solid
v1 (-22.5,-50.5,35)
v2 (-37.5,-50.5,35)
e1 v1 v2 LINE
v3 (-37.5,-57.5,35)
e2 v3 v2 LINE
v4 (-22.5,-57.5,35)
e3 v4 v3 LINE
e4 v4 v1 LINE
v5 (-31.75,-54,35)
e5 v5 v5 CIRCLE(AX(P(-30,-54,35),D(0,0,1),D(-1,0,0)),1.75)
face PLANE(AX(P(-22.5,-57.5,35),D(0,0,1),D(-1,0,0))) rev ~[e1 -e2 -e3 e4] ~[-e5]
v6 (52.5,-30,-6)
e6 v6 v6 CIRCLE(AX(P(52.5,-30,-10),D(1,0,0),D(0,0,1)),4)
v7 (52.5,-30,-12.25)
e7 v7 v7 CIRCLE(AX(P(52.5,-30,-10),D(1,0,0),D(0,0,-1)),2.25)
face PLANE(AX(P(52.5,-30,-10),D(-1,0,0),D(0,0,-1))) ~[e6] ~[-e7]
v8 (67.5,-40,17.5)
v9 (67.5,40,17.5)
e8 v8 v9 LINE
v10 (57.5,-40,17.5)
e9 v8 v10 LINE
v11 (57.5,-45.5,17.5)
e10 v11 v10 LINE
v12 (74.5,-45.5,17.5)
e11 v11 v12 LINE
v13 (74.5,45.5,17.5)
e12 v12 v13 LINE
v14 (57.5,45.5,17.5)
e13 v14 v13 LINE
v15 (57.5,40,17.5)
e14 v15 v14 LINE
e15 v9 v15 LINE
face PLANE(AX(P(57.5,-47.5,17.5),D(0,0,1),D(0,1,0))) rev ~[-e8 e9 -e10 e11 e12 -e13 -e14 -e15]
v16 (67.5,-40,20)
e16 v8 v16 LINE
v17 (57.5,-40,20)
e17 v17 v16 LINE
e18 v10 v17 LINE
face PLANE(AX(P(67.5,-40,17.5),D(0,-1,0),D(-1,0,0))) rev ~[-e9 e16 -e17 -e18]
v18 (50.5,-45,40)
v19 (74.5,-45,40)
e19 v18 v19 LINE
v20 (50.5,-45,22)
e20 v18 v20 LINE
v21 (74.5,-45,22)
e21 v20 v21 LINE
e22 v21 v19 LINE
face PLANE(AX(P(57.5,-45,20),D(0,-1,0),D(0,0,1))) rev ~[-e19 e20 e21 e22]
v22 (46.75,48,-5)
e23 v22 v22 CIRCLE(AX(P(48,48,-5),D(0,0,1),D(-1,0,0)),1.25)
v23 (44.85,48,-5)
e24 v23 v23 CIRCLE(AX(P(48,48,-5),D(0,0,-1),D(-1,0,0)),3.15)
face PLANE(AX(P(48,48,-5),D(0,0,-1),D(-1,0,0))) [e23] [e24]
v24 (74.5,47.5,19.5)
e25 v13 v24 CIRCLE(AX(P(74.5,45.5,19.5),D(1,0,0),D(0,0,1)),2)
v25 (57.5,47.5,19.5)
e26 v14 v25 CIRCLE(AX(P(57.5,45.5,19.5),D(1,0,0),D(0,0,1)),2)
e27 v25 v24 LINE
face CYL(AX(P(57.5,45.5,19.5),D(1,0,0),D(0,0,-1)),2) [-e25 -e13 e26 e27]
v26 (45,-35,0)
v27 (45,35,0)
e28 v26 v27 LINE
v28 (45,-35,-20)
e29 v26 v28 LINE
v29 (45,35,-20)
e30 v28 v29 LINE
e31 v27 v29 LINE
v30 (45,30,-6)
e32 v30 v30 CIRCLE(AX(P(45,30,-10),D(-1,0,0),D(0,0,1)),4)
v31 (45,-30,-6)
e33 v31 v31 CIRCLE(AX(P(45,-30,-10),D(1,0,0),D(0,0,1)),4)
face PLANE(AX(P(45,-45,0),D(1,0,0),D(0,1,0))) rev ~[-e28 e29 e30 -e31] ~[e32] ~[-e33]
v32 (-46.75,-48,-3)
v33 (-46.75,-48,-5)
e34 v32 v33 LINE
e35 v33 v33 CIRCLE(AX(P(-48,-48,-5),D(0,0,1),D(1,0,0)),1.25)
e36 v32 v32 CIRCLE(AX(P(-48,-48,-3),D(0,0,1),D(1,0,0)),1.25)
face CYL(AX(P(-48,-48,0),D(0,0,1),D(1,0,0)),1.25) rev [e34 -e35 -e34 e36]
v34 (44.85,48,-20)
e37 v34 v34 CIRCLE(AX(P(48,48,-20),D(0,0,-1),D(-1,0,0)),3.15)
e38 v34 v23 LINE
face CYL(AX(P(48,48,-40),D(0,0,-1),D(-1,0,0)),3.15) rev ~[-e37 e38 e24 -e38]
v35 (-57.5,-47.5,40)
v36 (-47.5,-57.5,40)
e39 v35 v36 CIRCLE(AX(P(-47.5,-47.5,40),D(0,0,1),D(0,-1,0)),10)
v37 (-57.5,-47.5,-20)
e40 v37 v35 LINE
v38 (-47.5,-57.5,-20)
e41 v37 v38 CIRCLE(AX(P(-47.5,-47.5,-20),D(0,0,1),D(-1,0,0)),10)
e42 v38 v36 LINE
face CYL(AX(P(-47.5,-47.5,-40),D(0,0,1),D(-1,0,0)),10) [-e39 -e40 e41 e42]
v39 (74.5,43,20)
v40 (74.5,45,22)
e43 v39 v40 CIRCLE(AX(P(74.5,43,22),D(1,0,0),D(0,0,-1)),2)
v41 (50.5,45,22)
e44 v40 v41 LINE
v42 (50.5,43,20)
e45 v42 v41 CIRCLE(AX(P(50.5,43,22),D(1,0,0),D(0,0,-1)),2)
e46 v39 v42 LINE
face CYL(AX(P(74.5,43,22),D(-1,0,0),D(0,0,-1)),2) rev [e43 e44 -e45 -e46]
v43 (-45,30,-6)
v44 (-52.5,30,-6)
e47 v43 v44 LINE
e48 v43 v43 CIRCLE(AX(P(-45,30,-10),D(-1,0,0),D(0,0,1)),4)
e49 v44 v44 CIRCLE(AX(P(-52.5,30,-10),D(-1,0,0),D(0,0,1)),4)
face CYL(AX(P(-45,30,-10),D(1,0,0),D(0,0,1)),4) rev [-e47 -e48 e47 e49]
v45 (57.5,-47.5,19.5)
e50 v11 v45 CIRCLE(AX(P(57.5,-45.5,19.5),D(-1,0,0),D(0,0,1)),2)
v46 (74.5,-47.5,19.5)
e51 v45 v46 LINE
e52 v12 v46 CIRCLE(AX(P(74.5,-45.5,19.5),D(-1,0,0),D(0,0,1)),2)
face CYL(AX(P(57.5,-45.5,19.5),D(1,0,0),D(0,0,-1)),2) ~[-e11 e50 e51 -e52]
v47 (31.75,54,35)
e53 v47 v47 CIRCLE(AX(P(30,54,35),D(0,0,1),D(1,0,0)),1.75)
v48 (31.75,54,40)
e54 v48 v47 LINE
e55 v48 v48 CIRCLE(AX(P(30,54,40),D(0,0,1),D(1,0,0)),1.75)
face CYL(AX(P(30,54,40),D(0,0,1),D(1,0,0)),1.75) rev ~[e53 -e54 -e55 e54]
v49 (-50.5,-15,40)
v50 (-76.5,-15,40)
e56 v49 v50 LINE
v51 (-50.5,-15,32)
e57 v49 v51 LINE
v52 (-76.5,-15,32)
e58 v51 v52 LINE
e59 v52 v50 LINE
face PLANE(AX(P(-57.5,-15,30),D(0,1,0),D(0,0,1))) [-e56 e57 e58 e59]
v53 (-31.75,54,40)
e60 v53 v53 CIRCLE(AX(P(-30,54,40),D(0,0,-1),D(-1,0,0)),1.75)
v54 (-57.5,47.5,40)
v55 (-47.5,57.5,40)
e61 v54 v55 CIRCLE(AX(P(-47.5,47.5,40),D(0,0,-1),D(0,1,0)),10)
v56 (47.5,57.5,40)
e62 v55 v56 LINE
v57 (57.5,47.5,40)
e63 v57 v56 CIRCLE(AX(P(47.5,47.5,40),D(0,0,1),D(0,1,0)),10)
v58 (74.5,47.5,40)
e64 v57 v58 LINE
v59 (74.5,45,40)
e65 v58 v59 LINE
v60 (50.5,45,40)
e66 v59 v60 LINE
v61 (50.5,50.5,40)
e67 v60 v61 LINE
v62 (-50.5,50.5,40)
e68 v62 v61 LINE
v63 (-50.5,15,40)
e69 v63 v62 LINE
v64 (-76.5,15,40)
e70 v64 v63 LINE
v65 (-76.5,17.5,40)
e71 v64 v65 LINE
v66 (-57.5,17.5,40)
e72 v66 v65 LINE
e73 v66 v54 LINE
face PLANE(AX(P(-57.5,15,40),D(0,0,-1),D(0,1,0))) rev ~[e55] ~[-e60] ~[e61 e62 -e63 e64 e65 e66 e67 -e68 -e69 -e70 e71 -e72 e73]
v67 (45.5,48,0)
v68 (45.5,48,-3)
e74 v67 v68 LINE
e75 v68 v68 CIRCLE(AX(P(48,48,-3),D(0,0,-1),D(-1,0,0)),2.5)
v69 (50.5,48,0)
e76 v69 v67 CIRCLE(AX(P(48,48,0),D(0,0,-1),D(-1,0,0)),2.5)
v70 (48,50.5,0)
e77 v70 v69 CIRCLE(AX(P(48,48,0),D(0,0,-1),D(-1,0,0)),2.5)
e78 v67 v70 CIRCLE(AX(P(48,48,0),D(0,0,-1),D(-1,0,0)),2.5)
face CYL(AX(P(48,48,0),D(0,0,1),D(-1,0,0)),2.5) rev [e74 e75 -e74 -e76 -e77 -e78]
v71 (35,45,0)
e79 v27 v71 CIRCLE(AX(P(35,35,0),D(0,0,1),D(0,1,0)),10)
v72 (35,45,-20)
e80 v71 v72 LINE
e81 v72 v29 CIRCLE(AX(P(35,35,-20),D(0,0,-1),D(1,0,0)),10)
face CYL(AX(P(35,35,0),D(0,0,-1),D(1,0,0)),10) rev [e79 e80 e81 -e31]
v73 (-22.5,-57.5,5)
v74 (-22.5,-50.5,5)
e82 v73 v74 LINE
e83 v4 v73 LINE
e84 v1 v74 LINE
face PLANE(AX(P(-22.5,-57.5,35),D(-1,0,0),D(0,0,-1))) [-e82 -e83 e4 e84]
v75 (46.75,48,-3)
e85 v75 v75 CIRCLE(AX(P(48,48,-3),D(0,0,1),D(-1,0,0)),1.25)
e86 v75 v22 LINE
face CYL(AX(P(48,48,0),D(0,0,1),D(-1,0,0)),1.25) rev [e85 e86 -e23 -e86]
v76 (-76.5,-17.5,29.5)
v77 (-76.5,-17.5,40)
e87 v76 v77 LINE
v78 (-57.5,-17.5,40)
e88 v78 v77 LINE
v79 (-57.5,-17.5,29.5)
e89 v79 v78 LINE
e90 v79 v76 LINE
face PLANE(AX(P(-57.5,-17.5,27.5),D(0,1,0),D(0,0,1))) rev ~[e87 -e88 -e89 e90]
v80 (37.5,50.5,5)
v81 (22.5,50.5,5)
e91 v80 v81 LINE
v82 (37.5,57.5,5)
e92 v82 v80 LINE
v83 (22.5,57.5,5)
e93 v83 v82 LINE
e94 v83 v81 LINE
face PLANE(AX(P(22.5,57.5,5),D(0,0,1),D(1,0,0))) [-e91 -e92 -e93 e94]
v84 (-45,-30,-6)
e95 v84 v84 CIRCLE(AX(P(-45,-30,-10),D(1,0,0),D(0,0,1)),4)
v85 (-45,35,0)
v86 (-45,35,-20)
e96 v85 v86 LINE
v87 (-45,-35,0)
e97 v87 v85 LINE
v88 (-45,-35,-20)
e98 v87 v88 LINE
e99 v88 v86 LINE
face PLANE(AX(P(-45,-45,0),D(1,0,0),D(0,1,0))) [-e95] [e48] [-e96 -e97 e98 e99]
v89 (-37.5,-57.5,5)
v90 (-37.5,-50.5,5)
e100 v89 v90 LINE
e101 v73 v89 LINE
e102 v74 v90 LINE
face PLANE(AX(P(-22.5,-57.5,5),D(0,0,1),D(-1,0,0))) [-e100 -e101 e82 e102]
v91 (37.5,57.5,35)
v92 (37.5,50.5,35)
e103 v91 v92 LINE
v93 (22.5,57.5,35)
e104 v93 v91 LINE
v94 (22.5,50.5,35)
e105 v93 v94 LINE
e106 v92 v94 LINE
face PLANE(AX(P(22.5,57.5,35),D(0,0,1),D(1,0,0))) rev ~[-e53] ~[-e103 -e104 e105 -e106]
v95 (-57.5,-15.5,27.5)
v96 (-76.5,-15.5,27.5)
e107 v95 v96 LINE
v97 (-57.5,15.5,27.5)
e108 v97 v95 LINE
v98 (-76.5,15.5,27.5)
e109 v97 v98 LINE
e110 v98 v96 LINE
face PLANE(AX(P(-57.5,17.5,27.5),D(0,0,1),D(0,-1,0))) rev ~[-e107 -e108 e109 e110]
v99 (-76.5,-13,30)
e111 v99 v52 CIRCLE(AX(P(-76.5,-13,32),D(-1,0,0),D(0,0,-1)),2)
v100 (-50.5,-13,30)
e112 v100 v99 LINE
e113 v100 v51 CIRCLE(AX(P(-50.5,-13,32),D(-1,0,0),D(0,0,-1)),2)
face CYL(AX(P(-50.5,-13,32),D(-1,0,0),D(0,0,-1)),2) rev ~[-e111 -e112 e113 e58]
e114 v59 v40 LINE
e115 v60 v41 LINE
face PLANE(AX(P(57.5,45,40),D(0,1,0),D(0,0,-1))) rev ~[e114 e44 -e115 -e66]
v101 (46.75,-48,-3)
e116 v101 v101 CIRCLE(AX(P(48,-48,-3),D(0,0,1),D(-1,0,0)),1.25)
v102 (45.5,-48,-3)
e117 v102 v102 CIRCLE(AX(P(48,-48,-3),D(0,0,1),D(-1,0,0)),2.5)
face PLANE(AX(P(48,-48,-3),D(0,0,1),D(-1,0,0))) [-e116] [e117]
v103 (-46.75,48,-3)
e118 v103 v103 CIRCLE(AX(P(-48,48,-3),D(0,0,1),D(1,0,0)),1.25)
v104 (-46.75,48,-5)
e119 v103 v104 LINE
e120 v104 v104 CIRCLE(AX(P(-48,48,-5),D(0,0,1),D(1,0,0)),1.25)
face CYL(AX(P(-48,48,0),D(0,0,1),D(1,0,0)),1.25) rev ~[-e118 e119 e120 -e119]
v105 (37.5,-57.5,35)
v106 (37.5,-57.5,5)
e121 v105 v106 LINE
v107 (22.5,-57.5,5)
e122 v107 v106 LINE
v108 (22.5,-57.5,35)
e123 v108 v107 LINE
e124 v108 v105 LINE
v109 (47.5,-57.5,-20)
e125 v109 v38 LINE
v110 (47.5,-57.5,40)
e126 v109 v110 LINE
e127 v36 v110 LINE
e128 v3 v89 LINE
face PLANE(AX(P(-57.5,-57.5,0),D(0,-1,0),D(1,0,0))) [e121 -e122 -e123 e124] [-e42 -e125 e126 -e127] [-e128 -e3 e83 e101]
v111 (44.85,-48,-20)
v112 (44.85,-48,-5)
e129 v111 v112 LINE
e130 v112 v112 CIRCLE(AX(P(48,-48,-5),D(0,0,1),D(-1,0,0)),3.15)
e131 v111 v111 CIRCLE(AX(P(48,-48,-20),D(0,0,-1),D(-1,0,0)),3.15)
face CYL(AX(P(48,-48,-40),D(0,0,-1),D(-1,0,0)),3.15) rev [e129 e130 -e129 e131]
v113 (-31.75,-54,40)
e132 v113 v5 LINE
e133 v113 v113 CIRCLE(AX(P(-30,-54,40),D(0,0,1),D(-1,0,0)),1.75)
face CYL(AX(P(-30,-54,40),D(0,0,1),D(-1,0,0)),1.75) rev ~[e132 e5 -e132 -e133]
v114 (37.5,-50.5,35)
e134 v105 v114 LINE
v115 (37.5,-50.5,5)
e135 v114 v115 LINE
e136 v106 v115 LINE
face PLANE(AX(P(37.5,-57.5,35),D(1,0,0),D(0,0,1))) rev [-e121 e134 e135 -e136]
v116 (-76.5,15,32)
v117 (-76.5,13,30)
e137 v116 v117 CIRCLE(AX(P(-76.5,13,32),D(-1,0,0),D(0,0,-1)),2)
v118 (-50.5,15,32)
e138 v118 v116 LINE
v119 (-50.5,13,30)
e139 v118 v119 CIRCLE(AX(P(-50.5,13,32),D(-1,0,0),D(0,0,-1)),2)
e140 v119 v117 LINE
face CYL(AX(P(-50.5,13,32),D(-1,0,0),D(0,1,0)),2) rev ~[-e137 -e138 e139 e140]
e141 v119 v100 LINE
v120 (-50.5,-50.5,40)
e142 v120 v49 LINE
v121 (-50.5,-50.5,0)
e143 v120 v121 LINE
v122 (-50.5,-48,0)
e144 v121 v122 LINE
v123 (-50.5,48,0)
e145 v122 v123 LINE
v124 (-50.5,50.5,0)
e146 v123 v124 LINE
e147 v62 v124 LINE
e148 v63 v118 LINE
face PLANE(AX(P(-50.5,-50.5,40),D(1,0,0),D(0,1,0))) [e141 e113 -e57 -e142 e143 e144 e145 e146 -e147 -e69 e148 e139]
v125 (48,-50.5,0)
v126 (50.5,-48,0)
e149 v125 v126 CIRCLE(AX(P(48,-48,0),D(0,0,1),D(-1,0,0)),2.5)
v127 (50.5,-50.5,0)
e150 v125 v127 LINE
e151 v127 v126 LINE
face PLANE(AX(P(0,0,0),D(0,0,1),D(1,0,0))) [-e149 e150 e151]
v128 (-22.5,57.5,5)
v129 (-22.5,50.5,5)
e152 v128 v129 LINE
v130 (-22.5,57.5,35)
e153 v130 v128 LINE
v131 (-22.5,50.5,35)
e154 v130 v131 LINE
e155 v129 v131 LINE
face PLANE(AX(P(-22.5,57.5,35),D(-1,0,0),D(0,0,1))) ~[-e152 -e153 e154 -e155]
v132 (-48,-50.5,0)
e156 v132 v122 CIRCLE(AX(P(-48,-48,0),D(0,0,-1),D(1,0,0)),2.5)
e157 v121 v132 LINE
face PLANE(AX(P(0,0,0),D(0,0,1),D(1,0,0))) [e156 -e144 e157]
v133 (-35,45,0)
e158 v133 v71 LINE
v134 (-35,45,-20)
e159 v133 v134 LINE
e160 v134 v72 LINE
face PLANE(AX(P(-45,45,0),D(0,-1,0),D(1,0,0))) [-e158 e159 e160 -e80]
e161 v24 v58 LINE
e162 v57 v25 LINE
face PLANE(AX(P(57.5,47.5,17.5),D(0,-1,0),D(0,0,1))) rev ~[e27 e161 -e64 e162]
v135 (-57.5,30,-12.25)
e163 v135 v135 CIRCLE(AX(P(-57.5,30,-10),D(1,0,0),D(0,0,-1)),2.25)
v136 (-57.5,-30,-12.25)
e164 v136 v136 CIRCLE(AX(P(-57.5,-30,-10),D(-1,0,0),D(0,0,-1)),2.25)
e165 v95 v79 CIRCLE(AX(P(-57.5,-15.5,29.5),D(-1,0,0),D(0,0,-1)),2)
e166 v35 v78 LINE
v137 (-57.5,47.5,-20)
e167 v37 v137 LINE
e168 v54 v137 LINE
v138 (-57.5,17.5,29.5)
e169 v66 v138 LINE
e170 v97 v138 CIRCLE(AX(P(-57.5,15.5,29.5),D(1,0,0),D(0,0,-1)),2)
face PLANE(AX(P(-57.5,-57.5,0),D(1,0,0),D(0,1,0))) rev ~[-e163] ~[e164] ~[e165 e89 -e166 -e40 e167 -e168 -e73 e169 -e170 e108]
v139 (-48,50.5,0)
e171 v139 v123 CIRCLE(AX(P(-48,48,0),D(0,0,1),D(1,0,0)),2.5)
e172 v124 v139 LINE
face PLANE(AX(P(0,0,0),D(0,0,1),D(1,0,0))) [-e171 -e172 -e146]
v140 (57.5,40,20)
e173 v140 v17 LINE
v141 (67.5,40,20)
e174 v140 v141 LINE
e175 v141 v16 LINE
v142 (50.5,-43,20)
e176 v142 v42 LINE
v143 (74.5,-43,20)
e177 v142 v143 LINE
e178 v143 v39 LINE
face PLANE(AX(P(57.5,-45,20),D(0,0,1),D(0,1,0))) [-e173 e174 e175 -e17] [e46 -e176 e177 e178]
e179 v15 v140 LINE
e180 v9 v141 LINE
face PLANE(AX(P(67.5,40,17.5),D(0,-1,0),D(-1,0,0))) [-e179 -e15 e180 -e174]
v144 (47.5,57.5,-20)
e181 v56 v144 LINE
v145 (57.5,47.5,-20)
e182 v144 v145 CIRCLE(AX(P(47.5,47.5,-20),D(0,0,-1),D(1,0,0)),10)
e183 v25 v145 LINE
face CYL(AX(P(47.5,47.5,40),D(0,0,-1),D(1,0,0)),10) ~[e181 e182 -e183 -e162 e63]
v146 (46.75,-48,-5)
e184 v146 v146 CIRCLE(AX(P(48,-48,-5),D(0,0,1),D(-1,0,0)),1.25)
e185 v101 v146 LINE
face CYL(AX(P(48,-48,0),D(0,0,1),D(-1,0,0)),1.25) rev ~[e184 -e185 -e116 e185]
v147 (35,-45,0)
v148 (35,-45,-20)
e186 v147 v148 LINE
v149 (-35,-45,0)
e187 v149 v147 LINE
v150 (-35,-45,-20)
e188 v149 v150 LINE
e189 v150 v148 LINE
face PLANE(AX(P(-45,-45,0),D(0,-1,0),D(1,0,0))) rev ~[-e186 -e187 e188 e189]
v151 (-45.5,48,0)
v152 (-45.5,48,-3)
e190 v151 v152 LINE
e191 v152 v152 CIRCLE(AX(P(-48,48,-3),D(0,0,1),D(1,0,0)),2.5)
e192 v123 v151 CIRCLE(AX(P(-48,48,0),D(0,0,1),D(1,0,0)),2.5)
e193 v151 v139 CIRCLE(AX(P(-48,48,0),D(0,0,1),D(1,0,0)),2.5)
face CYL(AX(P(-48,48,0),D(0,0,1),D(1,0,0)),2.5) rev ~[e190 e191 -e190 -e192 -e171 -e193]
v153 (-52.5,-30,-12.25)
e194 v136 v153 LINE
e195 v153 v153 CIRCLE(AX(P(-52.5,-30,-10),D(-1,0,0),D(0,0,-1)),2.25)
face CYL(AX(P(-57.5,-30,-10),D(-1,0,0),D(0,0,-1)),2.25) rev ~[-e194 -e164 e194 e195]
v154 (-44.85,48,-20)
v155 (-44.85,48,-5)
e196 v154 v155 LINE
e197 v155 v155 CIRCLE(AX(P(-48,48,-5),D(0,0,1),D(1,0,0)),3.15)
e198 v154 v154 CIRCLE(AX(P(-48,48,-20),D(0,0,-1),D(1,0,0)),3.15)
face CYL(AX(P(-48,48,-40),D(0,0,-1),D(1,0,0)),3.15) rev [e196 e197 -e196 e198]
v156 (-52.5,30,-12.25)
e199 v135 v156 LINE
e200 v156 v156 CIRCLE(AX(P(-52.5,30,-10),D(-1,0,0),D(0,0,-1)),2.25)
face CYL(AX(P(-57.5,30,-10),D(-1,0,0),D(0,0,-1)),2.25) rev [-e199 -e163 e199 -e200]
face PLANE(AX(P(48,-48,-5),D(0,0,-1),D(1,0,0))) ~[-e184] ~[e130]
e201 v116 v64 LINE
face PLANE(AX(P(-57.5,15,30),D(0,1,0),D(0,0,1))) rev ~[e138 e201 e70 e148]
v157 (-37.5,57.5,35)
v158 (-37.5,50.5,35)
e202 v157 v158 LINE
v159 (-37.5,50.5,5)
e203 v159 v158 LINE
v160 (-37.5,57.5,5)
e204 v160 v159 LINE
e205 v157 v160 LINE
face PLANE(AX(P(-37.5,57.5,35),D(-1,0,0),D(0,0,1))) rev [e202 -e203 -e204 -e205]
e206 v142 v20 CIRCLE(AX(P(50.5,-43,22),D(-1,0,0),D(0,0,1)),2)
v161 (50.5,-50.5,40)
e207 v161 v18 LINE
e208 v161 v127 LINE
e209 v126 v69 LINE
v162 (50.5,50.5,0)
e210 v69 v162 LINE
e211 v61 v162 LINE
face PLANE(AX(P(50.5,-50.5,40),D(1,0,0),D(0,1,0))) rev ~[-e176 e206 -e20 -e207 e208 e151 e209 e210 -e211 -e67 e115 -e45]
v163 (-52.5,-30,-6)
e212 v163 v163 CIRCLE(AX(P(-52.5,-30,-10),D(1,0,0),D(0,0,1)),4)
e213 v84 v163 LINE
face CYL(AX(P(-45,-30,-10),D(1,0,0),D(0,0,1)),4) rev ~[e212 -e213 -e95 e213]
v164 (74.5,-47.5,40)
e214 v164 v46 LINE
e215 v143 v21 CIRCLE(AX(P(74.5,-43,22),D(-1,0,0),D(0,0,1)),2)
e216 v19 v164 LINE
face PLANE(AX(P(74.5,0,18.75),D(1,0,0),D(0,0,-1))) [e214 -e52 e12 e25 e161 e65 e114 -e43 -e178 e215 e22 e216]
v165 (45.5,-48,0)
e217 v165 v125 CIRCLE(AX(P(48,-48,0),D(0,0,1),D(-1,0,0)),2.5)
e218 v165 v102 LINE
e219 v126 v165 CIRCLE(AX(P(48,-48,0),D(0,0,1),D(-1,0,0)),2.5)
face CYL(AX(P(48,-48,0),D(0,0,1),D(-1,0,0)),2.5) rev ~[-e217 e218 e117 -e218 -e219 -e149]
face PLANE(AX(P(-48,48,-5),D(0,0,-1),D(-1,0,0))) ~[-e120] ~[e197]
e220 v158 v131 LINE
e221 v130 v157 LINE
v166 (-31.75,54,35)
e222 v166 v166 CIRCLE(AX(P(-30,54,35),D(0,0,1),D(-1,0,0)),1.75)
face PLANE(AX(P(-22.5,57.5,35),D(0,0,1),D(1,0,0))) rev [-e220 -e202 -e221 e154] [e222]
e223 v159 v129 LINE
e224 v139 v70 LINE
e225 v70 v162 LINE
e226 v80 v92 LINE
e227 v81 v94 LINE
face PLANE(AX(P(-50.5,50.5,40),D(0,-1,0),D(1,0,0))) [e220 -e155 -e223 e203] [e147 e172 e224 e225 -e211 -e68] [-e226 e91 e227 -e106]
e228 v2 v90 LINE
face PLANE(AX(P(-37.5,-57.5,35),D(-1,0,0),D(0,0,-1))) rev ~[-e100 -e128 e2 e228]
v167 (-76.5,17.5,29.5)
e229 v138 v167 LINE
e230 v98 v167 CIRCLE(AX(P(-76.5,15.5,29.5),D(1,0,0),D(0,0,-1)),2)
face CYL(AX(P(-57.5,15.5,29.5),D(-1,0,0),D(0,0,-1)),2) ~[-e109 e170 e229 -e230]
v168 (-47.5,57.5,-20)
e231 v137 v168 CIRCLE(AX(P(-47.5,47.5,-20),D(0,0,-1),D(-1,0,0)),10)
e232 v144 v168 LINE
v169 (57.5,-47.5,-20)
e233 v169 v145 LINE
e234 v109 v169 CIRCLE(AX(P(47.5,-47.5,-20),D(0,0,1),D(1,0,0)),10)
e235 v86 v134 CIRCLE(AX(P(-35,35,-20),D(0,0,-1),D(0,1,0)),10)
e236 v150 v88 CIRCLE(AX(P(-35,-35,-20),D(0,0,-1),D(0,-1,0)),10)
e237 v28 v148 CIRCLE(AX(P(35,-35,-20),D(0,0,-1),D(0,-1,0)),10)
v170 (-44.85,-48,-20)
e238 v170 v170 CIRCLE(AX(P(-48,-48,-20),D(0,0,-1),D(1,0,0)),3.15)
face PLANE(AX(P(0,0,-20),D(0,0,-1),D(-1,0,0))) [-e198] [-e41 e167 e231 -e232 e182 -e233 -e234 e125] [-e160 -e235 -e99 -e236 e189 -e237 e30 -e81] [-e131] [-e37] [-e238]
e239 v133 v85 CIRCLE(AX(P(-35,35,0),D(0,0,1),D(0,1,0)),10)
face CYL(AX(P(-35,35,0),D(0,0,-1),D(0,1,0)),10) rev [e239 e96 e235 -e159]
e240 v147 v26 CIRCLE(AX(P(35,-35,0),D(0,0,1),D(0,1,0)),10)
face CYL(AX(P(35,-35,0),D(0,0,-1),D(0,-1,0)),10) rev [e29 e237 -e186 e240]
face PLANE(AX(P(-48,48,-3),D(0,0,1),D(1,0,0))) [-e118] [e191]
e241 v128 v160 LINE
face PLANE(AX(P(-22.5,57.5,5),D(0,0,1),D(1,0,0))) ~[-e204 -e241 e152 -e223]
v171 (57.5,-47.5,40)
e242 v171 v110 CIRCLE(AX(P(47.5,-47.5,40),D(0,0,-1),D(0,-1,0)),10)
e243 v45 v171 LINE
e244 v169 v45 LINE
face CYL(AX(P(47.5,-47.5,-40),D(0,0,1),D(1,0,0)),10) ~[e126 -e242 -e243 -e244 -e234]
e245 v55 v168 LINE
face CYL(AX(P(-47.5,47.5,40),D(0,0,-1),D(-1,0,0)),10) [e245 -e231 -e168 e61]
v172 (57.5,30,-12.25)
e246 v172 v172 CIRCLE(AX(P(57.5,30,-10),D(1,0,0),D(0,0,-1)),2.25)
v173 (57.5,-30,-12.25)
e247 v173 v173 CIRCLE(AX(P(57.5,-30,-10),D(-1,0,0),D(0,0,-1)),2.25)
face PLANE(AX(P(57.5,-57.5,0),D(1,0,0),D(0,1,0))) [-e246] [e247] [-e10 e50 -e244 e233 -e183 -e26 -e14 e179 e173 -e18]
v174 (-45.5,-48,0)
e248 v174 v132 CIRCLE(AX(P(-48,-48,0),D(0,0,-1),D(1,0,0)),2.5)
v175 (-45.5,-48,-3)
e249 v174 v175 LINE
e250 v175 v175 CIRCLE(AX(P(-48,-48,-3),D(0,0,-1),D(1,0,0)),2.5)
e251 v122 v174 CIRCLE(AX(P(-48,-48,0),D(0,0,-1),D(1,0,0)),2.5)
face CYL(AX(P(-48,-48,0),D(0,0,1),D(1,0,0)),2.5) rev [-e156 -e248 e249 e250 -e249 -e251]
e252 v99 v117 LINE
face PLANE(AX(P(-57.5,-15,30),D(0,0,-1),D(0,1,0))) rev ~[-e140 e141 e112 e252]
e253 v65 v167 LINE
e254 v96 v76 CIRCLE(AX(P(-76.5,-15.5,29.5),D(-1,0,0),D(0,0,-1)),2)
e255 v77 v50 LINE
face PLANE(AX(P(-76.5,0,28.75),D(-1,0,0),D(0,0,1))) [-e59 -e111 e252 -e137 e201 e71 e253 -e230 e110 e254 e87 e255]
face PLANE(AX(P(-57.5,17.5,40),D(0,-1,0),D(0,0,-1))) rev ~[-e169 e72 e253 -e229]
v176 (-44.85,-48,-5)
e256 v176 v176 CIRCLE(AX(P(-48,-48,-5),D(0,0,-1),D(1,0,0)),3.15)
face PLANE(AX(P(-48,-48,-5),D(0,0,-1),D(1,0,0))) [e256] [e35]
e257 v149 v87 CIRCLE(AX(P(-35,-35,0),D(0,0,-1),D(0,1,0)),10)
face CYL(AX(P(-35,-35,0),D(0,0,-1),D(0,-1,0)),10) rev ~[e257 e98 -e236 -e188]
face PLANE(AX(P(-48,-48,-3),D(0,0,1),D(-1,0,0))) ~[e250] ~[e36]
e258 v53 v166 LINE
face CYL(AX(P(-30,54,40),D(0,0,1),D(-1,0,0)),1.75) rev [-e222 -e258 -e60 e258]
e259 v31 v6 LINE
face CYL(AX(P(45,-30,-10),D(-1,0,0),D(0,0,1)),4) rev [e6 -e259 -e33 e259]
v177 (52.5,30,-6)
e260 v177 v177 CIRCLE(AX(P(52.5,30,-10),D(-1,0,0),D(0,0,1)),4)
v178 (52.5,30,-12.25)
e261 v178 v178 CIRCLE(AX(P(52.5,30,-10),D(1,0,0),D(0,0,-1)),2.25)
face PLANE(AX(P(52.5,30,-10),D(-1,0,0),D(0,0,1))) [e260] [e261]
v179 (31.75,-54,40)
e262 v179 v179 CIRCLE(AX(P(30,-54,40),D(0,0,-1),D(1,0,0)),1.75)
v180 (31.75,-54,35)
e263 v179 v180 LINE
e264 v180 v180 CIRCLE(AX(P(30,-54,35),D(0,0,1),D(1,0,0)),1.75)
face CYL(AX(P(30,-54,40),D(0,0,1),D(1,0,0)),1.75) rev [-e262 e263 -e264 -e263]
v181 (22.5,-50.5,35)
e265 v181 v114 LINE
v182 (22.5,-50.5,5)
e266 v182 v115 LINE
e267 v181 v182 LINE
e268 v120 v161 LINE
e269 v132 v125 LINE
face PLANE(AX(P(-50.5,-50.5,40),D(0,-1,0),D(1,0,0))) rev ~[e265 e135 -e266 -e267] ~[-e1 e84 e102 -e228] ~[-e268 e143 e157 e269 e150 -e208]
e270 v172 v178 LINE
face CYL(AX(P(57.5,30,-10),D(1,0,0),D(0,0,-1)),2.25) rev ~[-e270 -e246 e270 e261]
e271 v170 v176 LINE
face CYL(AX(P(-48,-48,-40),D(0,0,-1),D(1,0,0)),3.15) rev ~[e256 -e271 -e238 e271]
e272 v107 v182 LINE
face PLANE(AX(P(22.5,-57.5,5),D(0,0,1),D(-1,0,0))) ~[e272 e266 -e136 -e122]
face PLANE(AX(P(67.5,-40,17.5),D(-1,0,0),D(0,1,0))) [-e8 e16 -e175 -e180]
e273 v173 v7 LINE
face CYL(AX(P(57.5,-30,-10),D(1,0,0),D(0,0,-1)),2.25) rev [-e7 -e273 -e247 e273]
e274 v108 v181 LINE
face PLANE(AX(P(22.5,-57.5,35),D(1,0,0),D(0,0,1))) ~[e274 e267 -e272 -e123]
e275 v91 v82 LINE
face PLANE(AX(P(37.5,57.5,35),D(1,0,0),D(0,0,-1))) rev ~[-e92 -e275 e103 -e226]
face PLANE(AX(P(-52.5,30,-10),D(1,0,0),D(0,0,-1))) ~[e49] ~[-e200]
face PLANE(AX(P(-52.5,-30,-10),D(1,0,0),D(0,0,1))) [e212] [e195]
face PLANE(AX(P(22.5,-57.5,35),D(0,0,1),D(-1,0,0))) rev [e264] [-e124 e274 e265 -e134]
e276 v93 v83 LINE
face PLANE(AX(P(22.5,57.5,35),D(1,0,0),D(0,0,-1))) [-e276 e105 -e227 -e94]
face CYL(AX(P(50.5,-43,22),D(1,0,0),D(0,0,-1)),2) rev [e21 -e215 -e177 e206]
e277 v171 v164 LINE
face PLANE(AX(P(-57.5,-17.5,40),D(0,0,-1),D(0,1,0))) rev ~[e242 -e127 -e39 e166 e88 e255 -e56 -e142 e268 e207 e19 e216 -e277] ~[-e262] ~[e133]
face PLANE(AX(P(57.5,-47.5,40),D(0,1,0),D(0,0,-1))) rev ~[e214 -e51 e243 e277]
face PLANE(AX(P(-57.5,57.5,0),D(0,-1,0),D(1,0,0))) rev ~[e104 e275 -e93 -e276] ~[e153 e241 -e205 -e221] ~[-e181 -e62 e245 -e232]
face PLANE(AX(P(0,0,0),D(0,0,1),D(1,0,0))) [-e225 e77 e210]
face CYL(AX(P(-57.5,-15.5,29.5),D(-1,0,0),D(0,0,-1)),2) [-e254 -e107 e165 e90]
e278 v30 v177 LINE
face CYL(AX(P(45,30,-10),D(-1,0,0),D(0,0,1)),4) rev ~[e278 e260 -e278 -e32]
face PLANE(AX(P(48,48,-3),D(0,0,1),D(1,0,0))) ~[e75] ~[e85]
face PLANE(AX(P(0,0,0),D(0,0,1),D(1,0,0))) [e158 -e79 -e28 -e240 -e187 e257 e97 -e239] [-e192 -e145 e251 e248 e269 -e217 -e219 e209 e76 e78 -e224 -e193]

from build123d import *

# Parameters (mm, degrees)
SKETCH1_W                                  = 115
SKETCH1_H                                  = 115
BOSS_EXTRUDE1_DEPTH                        = 40
FILLET1_R                                  = 10
SKETCH4_W                                  = 101
SKETCH4_H                                  = 101
CUT_EXTRUDE3_DEPTH                         = 40
SKETCH7_W                                  = 90
SKETCH7_H                                  = 90
CUT_EXTRUDE5_DEPTH                         = 60
FILLET3_R                                  = 10
SKETCH8_R                                  = 3.15
CUT_EXTRUDE6_DEPTH                         = 35
MIRROR2_AT_THE_SECOND_PLANE_COPY_1_SKETC_R = 3.15
MIRROR2_AT_THE_SECOND_PLANE_COPY_1_DEPTH   = 35
SKETCH9_R                                  = 1.25
CUT_EXTRUDE7_DEPTH                         = 15
MIRROR3_AT_THE_SECOND_PLANE_COPY_1_SKETC_R = 1.25
MIRROR3_AT_THE_SECOND_PLANE_COPY_1_DEPTH   = 15
SKETCH10_R                                 = 2.5
CUT_EXTRUDE8_DEPTH                         = 3
MIRROR4_AT_THE_SECOND_PLANE_COPY_1_SKETC_R = 2.5
MIRROR4_AT_THE_SECOND_PLANE_COPY_1_DEPTH   = 3
SKETCH11_W                                 = 40
SKETCH11_H                                 = 90
CUT_EXTRUDE9_DEPTH                         = 11
SKETCH13_W                                 = 2.5
SKETCH13_H                                 = 90
BOSS_EXTRUDE2_DEPTH                        = 17
FILLET6_R                                  = 2
SKETCH14_W                                 = 20
SKETCH14_H                                 = 30
CUT_EXTRUDE10_DEPTH                        = 11
SKETCH15_W                                 = 10
SKETCH15_H                                 = 2.5
BOSS_EXTRUDE3_DEPTH                        = 19
FILLET7_R                                  = 2
SKETCH16_W                                 = 115
SKETCH16_H                                 = 115
CUT_EXTRUDE12_DEPTH                        = 20
SKETCH17_W                                 = 10
SKETCH17_H                                 = 80
CUT_EXTRUDE13_DEPTH                        = 15
SKETCH20_R                                 = 2.25
CUT_EXTRUDE14_DEPTH                        = 25
MIRROR8_AT_THE_SECOND_PLANE_COPY_1_SKETC_R = 2.25
MIRROR8_AT_THE_SECOND_PLANE_COPY_1_DEPTH   = 25
SKETCH21_R                                 = 1.75
CUT_EXTRUDE15_DEPTH                        = 20
MIRROR9_AT_THE_SECOND_PLANE_COPY_1_SKETC_R = 1.75
MIRROR9_AT_THE_SECOND_PLANE_COPY_1_DEPTH   = 20
SKETCH24_W                                 = 15
SKETCH24_H                                 = 30
CUT_EXTRUDE16_DEPTH                        = 10
MIRROR10_AT_THE_SECOND_PLANE_COPY_1_SKET_W = 15
MIRROR10_AT_THE_SECOND_PLANE_COPY_1_SKET_H = 30
MIRROR10_AT_THE_SECOND_PLANE_COPY_1_DEPTH  = 10
SKETCH25_R                                 = 4
CUT_EXTRUDE17_DEPTH                        = 7.5
MIRROR11_AT_THE_SECOND_PLANE_COPY_1_SKET_R = 4
MIRROR11_AT_THE_SECOND_PLANE_COPY_1_DEPTH  = 7.5


with BuildPart() as part:
    # Sketch1 → Boss-Extrude1 (new, symmetric)
    with BuildSketch(Plane.XY):
        Rectangle(SKETCH1_W, SKETCH1_H)
    extrude(amount=BOSS_EXTRUDE1_DEPTH, both=True)

    # Fillet1
    fillet1_edges = [part.edges().sort_by_distance(p)[0] for p in [
        (-57.5, 57.5, 0),
        (57.5, 57.5, 0),
        (57.5, -57.5, 0),
        (-57.5, -57.5, 0),
    ]]
    fillet(fillet1_edges, radius=FILLET1_R)

    # Sketch4 → Cut-Extrude3 (cut)
    with BuildSketch(Plane.XY.offset(40)):
        Rectangle(SKETCH4_W, SKETCH4_H)
    extrude(amount=-CUT_EXTRUDE3_DEPTH, mode=Mode.SUBTRACT)

    # Sketch7 → Cut-Extrude5 (cut)
    with BuildSketch(Plane.XY):
        Rectangle(SKETCH7_W, SKETCH7_H)
    extrude(amount=-CUT_EXTRUDE5_DEPTH, mode=Mode.SUBTRACT)

    # Fillet3
    fillet3_edges = [part.edges().sort_by_distance(p)[0] for p in [
        (-45, -45, -20),
        (-45, 45, -20),
        (45, 45, -20),
        (45, -45, -20),
    ]]
    fillet(fillet3_edges, radius=FILLET3_R)

    # Sketch8 → Cut-Extrude6 (cut)
    with BuildSketch(Plane(origin=(0, 0, -40), x_dir=(-1, 0, 0), z_dir=(0, 0, -1))):
        with Locations((-48, 48)):
            Circle(SKETCH8_R)
    cut_extrude6 = extrude(amount=-CUT_EXTRUDE6_DEPTH, mode=Mode.SUBTRACT)

    # Mirror2: Cut-Extrude6 across plane
    add(cut_extrude6.mirror(Plane.ZX), mode=Mode.SUBTRACT)

    # Mirror2 at the second plane: Cut-Extrude6 across plane
    add(cut_extrude6.mirror(Plane(origin=(0, 0, 0), x_dir=(0, 0, 1), z_dir=(1, 0, 0))), mode=Mode.SUBTRACT)

    # Mirror2 at the second plane copy 1 sketc → Mirror2 at the second plane copy 1 (cut)
    with BuildSketch(Plane(origin=(0, 0, -40), x_dir=(1, 0, 0), z_dir=(0, 0, -1))):
        with Locations((-48, 48)):
            Circle(MIRROR2_AT_THE_SECOND_PLANE_COPY_1_SKETC_R)
    extrude(amount=-MIRROR2_AT_THE_SECOND_PLANE_COPY_1_DEPTH, mode=Mode.SUBTRACT)

    # Sketch9 → Cut-Extrude7 (cut)
    with BuildSketch(Plane.XY):
        with Locations((-48, 48)):
            Circle(SKETCH9_R)
    cut_extrude7 = extrude(amount=-CUT_EXTRUDE7_DEPTH, mode=Mode.SUBTRACT)

    # Mirror3: Cut-Extrude7 across plane
    add(cut_extrude7.mirror(Plane.ZX), mode=Mode.SUBTRACT)

    # Mirror3 at the second plane: Cut-Extrude7 across plane
    add(cut_extrude7.mirror(Plane(origin=(0, 0, 0), x_dir=(0, 0, 1), z_dir=(1, 0, 0))), mode=Mode.SUBTRACT)

    # Mirror3 at the second plane copy 1 sketc → Mirror3 at the second plane copy 1 (cut)
    with BuildSketch(Plane(origin=(0, 0, 0), x_dir=(-1, 0, 0), z_dir=(0, 0, 1))):
        with Locations((-48, 48)):
            Circle(MIRROR3_AT_THE_SECOND_PLANE_COPY_1_SKETC_R)
    extrude(amount=-MIRROR3_AT_THE_SECOND_PLANE_COPY_1_DEPTH, mode=Mode.SUBTRACT)

    # Sketch10 → Cut-Extrude8 (cut)
    with BuildSketch(Plane.XY):
        with Locations((-48, 48)):
            Circle(SKETCH10_R)
    cut_extrude8 = extrude(amount=-CUT_EXTRUDE8_DEPTH, mode=Mode.SUBTRACT)

    # Mirror4: Cut-Extrude8 across plane
    add(cut_extrude8.mirror(Plane.ZX), mode=Mode.SUBTRACT)

    # Mirror4 at the second plane: Cut-Extrude8 across plane
    add(cut_extrude8.mirror(Plane(origin=(0, 0, 0), x_dir=(0, 0, 1), z_dir=(1, 0, 0))), mode=Mode.SUBTRACT)

    # Mirror4 at the second plane copy 1 sketc → Mirror4 at the second plane copy 1 (cut)
    with BuildSketch(Plane(origin=(0, 0, 0), x_dir=(-1, 0, 0), z_dir=(0, 0, 1))):
        with Locations((-48, 48)):
            Circle(MIRROR4_AT_THE_SECOND_PLANE_COPY_1_SKETC_R)
    extrude(amount=-MIRROR4_AT_THE_SECOND_PLANE_COPY_1_DEPTH, mode=Mode.SUBTRACT)

    # Sketch11 → Cut-Extrude9 (cut)
    with BuildSketch(Plane(origin=(57.5, 0, 0), x_dir=(0, 0, -1), z_dir=(1, 0, 0))):
        with Locations((-40, 0)):
            Rectangle(SKETCH11_W, SKETCH11_H)
    extrude(amount=-CUT_EXTRUDE9_DEPTH, mode=Mode.SUBTRACT)

    # Sketch13 → Boss-Extrude2 (add)
    with BuildSketch(Plane(origin=(57.5, 0, 0), x_dir=(0, 0, -1), z_dir=(1, 0, 0))):
        with Locations((-18.75, 0)):
            Rectangle(SKETCH13_W, SKETCH13_H)
        Polygon((-17.5, -45), (-20, -45), (-40, -45), (-40, -47.5), (-17.5, -47.5), align=None)
        Polygon((-40, 45), (-20, 45), (-17.5, 45), (-17.5, 47.5), (-40, 47.5), align=None)
    extrude(amount=BOSS_EXTRUDE2_DEPTH)

    # Fillet6
    fillet6_edges = [part.edges().sort_by_distance(p)[0] for p in [
        (62.5, 45, 20),
        (62.5, -45, 20),
        (66, -47.5, 17.5),
        (66, 47.5, 17.5),
    ]]
    fillet(fillet6_edges, radius=FILLET6_R)

    # Sketch14 → Cut-Extrude10 (cut)
    with BuildSketch(Plane.ZY.offset(57.5)):
        with Locations((40, 0)):
            Rectangle(SKETCH14_W, SKETCH14_H)
    extrude(amount=-CUT_EXTRUDE10_DEPTH, mode=Mode.SUBTRACT)

    # Sketch15 → Boss-Extrude3 (add)
    with BuildSketch(Plane.ZY.offset(57.5)):
        Polygon((30, -15), (30, 15), (30, 17.5), (27.5, 17.5), (27.5, -17.5), (30, -17.5), align=None)
        with Locations((35, 16.25)):
            Rectangle(SKETCH15_W, SKETCH15_H)
        with Locations((35, -16.25)):
            Rectangle(SKETCH15_W, SKETCH15_H)
    extrude(amount=BOSS_EXTRUDE3_DEPTH)

    # Fillet7
    fillet7_edges = [part.edges().sort_by_distance(p)[0] for p in [
        (-63.5, -15, 30),
        (-63.5, 15, 30),
        (-67, 17.5, 27.5),
        (-67, -17.5, 27.5),
    ]]
    fillet(fillet7_edges, radius=FILLET7_R)

    # Sketch16 → Cut-Extrude12 (cut)
    with BuildSketch(Plane(origin=(0, 0, -40), x_dir=(-1, 0, 0), z_dir=(0, 0, -1))):
        Rectangle(SKETCH16_W, SKETCH16_H)
    extrude(amount=-CUT_EXTRUDE12_DEPTH, mode=Mode.SUBTRACT)

    # Sketch17 → Cut-Extrude13 (cut)
    with BuildSketch(Plane(origin=(0, 0, 17.5), x_dir=(-1, 0, 0), z_dir=(0, 0, -1))):
        with Locations((-62.5, 0)):
            Rectangle(SKETCH17_W, SKETCH17_H)
    extrude(amount=-CUT_EXTRUDE13_DEPTH, mode=Mode.SUBTRACT)

    # Sketch20 → Cut-Extrude14 (cut)
    with BuildSketch(Plane(origin=(57.5, 0, 0), x_dir=(0, 0, -1), z_dir=(1, 0, 0))):
        with Locations((10, 30)):
            Circle(SKETCH20_R)
    cut_extrude14 = extrude(amount=-CUT_EXTRUDE14_DEPTH, mode=Mode.SUBTRACT)

    # Mirror8: Cut-Extrude14 across plane
    add(cut_extrude14.mirror(Plane(origin=(0, 0, 0), x_dir=(0, 0, 1), z_dir=(1, 0, 0))), mode=Mode.SUBTRACT)

    # Mirror8 at the second plane: Cut-Extrude14 across plane
    add(cut_extrude14.mirror(Plane.ZX), mode=Mode.SUBTRACT)

    # Mirror8 at the second plane copy 1 sketc → Mirror8 at the second plane copy 1 (cut)
    with BuildSketch(Plane(origin=(-57.5, 0, 0), x_dir=(0, 0, -1), z_dir=(-1, 0, 0))):
        with Locations((10, 30)):
            Circle(MIRROR8_AT_THE_SECOND_PLANE_COPY_1_SKETC_R)
    extrude(amount=-MIRROR8_AT_THE_SECOND_PLANE_COPY_1_DEPTH, mode=Mode.SUBTRACT)

    # Sketch21 → Cut-Extrude15 (cut)
    with BuildSketch(Plane.XY.offset(40)):
        with Locations((30, 54)):
            Circle(SKETCH21_R)
    cut_extrude15 = extrude(amount=-CUT_EXTRUDE15_DEPTH, mode=Mode.SUBTRACT)

    # Mirror9: Cut-Extrude15 across plane
    add(cut_extrude15.mirror(Plane.ZX), mode=Mode.SUBTRACT)

    # Mirror9 at the second plane: Cut-Extrude15 across plane
    add(cut_extrude15.mirror(Plane(origin=(0, 0, 0), x_dir=(0, 0, 1), z_dir=(1, 0, 0))), mode=Mode.SUBTRACT)

    # Mirror9 at the second plane copy 1 sketc → Mirror9 at the second plane copy 1 (cut)
    with BuildSketch(Plane(origin=(0, 0, 40), x_dir=(-1, 0, 0), z_dir=(0, 0, 1))):
        with Locations((30, 54)):
            Circle(MIRROR9_AT_THE_SECOND_PLANE_COPY_1_SKETC_R)
    extrude(amount=-MIRROR9_AT_THE_SECOND_PLANE_COPY_1_DEPTH, mode=Mode.SUBTRACT)

    # Sketch24 → Cut-Extrude16 (cut)
    with BuildSketch(Plane(origin=(0, 57.5, 0), x_dir=(1, 0, 0), z_dir=(0, 1, 0))):
        with Locations((30, -20)):
            Rectangle(SKETCH24_W, SKETCH24_H)
    cut_extrude16 = extrude(amount=-CUT_EXTRUDE16_DEPTH, mode=Mode.SUBTRACT)

    # Mirror10: Cut-Extrude16 across plane
    add(cut_extrude16.mirror(Plane(origin=(0, 0, 0), x_dir=(0, 0, 1), z_dir=(1, 0, 0))), mode=Mode.SUBTRACT)

    # Mirror10 at the second plane: Cut-Extrude16 across plane
    add(cut_extrude16.mirror(Plane.ZX), mode=Mode.SUBTRACT)

    # Mirror10 at the second plane copy 1 sket → Mirror10 at the second plane copy 1 (cut)
    with BuildSketch(Plane(origin=(0, -57.5, 0), x_dir=(-1, 0, 0), z_dir=(0, -1, 0))):
        with Locations((30, -20)):
            Rectangle(MIRROR10_AT_THE_SECOND_PLANE_COPY_1_SKET_W, MIRROR10_AT_THE_SECOND_PLANE_COPY_1_SKET_H)
    extrude(amount=-MIRROR10_AT_THE_SECOND_PLANE_COPY_1_DEPTH, mode=Mode.SUBTRACT)

    # Sketch25 → Cut-Extrude17 (cut)
    with BuildSketch(Plane.ZY.offset(-45)):
        with Locations((-10, 30)):
            Circle(SKETCH25_R)
    cut_extrude17 = extrude(amount=-CUT_EXTRUDE17_DEPTH, mode=Mode.SUBTRACT)

    # Mirror11: Cut-Extrude17 across plane
    add(cut_extrude17.mirror(Plane.ZX), mode=Mode.SUBTRACT)

    # Mirror11 at the second plane: Cut-Extrude17 across plane
    add(cut_extrude17.mirror(Plane(origin=(0, 0, 0), x_dir=(0, 0, 1), z_dir=(1, 0, 0))), mode=Mode.SUBTRACT)

    # Mirror11 at the second plane copy 1 sket → Mirror11 at the second plane copy 1 (cut)
    with BuildSketch(Plane(origin=(-45, 0, 0), x_dir=(0, 0, 1), z_dir=(1, 0, 0))):
        with Locations((-10, 30)):
            Circle(MIRROR11_AT_THE_SECOND_PLANE_COPY_1_SKET_R)
    extrude(amount=-MIRROR11_AT_THE_SECOND_PLANE_COPY_1_DEPTH, mode=Mode.SUBTRACT)


solid = part.part
